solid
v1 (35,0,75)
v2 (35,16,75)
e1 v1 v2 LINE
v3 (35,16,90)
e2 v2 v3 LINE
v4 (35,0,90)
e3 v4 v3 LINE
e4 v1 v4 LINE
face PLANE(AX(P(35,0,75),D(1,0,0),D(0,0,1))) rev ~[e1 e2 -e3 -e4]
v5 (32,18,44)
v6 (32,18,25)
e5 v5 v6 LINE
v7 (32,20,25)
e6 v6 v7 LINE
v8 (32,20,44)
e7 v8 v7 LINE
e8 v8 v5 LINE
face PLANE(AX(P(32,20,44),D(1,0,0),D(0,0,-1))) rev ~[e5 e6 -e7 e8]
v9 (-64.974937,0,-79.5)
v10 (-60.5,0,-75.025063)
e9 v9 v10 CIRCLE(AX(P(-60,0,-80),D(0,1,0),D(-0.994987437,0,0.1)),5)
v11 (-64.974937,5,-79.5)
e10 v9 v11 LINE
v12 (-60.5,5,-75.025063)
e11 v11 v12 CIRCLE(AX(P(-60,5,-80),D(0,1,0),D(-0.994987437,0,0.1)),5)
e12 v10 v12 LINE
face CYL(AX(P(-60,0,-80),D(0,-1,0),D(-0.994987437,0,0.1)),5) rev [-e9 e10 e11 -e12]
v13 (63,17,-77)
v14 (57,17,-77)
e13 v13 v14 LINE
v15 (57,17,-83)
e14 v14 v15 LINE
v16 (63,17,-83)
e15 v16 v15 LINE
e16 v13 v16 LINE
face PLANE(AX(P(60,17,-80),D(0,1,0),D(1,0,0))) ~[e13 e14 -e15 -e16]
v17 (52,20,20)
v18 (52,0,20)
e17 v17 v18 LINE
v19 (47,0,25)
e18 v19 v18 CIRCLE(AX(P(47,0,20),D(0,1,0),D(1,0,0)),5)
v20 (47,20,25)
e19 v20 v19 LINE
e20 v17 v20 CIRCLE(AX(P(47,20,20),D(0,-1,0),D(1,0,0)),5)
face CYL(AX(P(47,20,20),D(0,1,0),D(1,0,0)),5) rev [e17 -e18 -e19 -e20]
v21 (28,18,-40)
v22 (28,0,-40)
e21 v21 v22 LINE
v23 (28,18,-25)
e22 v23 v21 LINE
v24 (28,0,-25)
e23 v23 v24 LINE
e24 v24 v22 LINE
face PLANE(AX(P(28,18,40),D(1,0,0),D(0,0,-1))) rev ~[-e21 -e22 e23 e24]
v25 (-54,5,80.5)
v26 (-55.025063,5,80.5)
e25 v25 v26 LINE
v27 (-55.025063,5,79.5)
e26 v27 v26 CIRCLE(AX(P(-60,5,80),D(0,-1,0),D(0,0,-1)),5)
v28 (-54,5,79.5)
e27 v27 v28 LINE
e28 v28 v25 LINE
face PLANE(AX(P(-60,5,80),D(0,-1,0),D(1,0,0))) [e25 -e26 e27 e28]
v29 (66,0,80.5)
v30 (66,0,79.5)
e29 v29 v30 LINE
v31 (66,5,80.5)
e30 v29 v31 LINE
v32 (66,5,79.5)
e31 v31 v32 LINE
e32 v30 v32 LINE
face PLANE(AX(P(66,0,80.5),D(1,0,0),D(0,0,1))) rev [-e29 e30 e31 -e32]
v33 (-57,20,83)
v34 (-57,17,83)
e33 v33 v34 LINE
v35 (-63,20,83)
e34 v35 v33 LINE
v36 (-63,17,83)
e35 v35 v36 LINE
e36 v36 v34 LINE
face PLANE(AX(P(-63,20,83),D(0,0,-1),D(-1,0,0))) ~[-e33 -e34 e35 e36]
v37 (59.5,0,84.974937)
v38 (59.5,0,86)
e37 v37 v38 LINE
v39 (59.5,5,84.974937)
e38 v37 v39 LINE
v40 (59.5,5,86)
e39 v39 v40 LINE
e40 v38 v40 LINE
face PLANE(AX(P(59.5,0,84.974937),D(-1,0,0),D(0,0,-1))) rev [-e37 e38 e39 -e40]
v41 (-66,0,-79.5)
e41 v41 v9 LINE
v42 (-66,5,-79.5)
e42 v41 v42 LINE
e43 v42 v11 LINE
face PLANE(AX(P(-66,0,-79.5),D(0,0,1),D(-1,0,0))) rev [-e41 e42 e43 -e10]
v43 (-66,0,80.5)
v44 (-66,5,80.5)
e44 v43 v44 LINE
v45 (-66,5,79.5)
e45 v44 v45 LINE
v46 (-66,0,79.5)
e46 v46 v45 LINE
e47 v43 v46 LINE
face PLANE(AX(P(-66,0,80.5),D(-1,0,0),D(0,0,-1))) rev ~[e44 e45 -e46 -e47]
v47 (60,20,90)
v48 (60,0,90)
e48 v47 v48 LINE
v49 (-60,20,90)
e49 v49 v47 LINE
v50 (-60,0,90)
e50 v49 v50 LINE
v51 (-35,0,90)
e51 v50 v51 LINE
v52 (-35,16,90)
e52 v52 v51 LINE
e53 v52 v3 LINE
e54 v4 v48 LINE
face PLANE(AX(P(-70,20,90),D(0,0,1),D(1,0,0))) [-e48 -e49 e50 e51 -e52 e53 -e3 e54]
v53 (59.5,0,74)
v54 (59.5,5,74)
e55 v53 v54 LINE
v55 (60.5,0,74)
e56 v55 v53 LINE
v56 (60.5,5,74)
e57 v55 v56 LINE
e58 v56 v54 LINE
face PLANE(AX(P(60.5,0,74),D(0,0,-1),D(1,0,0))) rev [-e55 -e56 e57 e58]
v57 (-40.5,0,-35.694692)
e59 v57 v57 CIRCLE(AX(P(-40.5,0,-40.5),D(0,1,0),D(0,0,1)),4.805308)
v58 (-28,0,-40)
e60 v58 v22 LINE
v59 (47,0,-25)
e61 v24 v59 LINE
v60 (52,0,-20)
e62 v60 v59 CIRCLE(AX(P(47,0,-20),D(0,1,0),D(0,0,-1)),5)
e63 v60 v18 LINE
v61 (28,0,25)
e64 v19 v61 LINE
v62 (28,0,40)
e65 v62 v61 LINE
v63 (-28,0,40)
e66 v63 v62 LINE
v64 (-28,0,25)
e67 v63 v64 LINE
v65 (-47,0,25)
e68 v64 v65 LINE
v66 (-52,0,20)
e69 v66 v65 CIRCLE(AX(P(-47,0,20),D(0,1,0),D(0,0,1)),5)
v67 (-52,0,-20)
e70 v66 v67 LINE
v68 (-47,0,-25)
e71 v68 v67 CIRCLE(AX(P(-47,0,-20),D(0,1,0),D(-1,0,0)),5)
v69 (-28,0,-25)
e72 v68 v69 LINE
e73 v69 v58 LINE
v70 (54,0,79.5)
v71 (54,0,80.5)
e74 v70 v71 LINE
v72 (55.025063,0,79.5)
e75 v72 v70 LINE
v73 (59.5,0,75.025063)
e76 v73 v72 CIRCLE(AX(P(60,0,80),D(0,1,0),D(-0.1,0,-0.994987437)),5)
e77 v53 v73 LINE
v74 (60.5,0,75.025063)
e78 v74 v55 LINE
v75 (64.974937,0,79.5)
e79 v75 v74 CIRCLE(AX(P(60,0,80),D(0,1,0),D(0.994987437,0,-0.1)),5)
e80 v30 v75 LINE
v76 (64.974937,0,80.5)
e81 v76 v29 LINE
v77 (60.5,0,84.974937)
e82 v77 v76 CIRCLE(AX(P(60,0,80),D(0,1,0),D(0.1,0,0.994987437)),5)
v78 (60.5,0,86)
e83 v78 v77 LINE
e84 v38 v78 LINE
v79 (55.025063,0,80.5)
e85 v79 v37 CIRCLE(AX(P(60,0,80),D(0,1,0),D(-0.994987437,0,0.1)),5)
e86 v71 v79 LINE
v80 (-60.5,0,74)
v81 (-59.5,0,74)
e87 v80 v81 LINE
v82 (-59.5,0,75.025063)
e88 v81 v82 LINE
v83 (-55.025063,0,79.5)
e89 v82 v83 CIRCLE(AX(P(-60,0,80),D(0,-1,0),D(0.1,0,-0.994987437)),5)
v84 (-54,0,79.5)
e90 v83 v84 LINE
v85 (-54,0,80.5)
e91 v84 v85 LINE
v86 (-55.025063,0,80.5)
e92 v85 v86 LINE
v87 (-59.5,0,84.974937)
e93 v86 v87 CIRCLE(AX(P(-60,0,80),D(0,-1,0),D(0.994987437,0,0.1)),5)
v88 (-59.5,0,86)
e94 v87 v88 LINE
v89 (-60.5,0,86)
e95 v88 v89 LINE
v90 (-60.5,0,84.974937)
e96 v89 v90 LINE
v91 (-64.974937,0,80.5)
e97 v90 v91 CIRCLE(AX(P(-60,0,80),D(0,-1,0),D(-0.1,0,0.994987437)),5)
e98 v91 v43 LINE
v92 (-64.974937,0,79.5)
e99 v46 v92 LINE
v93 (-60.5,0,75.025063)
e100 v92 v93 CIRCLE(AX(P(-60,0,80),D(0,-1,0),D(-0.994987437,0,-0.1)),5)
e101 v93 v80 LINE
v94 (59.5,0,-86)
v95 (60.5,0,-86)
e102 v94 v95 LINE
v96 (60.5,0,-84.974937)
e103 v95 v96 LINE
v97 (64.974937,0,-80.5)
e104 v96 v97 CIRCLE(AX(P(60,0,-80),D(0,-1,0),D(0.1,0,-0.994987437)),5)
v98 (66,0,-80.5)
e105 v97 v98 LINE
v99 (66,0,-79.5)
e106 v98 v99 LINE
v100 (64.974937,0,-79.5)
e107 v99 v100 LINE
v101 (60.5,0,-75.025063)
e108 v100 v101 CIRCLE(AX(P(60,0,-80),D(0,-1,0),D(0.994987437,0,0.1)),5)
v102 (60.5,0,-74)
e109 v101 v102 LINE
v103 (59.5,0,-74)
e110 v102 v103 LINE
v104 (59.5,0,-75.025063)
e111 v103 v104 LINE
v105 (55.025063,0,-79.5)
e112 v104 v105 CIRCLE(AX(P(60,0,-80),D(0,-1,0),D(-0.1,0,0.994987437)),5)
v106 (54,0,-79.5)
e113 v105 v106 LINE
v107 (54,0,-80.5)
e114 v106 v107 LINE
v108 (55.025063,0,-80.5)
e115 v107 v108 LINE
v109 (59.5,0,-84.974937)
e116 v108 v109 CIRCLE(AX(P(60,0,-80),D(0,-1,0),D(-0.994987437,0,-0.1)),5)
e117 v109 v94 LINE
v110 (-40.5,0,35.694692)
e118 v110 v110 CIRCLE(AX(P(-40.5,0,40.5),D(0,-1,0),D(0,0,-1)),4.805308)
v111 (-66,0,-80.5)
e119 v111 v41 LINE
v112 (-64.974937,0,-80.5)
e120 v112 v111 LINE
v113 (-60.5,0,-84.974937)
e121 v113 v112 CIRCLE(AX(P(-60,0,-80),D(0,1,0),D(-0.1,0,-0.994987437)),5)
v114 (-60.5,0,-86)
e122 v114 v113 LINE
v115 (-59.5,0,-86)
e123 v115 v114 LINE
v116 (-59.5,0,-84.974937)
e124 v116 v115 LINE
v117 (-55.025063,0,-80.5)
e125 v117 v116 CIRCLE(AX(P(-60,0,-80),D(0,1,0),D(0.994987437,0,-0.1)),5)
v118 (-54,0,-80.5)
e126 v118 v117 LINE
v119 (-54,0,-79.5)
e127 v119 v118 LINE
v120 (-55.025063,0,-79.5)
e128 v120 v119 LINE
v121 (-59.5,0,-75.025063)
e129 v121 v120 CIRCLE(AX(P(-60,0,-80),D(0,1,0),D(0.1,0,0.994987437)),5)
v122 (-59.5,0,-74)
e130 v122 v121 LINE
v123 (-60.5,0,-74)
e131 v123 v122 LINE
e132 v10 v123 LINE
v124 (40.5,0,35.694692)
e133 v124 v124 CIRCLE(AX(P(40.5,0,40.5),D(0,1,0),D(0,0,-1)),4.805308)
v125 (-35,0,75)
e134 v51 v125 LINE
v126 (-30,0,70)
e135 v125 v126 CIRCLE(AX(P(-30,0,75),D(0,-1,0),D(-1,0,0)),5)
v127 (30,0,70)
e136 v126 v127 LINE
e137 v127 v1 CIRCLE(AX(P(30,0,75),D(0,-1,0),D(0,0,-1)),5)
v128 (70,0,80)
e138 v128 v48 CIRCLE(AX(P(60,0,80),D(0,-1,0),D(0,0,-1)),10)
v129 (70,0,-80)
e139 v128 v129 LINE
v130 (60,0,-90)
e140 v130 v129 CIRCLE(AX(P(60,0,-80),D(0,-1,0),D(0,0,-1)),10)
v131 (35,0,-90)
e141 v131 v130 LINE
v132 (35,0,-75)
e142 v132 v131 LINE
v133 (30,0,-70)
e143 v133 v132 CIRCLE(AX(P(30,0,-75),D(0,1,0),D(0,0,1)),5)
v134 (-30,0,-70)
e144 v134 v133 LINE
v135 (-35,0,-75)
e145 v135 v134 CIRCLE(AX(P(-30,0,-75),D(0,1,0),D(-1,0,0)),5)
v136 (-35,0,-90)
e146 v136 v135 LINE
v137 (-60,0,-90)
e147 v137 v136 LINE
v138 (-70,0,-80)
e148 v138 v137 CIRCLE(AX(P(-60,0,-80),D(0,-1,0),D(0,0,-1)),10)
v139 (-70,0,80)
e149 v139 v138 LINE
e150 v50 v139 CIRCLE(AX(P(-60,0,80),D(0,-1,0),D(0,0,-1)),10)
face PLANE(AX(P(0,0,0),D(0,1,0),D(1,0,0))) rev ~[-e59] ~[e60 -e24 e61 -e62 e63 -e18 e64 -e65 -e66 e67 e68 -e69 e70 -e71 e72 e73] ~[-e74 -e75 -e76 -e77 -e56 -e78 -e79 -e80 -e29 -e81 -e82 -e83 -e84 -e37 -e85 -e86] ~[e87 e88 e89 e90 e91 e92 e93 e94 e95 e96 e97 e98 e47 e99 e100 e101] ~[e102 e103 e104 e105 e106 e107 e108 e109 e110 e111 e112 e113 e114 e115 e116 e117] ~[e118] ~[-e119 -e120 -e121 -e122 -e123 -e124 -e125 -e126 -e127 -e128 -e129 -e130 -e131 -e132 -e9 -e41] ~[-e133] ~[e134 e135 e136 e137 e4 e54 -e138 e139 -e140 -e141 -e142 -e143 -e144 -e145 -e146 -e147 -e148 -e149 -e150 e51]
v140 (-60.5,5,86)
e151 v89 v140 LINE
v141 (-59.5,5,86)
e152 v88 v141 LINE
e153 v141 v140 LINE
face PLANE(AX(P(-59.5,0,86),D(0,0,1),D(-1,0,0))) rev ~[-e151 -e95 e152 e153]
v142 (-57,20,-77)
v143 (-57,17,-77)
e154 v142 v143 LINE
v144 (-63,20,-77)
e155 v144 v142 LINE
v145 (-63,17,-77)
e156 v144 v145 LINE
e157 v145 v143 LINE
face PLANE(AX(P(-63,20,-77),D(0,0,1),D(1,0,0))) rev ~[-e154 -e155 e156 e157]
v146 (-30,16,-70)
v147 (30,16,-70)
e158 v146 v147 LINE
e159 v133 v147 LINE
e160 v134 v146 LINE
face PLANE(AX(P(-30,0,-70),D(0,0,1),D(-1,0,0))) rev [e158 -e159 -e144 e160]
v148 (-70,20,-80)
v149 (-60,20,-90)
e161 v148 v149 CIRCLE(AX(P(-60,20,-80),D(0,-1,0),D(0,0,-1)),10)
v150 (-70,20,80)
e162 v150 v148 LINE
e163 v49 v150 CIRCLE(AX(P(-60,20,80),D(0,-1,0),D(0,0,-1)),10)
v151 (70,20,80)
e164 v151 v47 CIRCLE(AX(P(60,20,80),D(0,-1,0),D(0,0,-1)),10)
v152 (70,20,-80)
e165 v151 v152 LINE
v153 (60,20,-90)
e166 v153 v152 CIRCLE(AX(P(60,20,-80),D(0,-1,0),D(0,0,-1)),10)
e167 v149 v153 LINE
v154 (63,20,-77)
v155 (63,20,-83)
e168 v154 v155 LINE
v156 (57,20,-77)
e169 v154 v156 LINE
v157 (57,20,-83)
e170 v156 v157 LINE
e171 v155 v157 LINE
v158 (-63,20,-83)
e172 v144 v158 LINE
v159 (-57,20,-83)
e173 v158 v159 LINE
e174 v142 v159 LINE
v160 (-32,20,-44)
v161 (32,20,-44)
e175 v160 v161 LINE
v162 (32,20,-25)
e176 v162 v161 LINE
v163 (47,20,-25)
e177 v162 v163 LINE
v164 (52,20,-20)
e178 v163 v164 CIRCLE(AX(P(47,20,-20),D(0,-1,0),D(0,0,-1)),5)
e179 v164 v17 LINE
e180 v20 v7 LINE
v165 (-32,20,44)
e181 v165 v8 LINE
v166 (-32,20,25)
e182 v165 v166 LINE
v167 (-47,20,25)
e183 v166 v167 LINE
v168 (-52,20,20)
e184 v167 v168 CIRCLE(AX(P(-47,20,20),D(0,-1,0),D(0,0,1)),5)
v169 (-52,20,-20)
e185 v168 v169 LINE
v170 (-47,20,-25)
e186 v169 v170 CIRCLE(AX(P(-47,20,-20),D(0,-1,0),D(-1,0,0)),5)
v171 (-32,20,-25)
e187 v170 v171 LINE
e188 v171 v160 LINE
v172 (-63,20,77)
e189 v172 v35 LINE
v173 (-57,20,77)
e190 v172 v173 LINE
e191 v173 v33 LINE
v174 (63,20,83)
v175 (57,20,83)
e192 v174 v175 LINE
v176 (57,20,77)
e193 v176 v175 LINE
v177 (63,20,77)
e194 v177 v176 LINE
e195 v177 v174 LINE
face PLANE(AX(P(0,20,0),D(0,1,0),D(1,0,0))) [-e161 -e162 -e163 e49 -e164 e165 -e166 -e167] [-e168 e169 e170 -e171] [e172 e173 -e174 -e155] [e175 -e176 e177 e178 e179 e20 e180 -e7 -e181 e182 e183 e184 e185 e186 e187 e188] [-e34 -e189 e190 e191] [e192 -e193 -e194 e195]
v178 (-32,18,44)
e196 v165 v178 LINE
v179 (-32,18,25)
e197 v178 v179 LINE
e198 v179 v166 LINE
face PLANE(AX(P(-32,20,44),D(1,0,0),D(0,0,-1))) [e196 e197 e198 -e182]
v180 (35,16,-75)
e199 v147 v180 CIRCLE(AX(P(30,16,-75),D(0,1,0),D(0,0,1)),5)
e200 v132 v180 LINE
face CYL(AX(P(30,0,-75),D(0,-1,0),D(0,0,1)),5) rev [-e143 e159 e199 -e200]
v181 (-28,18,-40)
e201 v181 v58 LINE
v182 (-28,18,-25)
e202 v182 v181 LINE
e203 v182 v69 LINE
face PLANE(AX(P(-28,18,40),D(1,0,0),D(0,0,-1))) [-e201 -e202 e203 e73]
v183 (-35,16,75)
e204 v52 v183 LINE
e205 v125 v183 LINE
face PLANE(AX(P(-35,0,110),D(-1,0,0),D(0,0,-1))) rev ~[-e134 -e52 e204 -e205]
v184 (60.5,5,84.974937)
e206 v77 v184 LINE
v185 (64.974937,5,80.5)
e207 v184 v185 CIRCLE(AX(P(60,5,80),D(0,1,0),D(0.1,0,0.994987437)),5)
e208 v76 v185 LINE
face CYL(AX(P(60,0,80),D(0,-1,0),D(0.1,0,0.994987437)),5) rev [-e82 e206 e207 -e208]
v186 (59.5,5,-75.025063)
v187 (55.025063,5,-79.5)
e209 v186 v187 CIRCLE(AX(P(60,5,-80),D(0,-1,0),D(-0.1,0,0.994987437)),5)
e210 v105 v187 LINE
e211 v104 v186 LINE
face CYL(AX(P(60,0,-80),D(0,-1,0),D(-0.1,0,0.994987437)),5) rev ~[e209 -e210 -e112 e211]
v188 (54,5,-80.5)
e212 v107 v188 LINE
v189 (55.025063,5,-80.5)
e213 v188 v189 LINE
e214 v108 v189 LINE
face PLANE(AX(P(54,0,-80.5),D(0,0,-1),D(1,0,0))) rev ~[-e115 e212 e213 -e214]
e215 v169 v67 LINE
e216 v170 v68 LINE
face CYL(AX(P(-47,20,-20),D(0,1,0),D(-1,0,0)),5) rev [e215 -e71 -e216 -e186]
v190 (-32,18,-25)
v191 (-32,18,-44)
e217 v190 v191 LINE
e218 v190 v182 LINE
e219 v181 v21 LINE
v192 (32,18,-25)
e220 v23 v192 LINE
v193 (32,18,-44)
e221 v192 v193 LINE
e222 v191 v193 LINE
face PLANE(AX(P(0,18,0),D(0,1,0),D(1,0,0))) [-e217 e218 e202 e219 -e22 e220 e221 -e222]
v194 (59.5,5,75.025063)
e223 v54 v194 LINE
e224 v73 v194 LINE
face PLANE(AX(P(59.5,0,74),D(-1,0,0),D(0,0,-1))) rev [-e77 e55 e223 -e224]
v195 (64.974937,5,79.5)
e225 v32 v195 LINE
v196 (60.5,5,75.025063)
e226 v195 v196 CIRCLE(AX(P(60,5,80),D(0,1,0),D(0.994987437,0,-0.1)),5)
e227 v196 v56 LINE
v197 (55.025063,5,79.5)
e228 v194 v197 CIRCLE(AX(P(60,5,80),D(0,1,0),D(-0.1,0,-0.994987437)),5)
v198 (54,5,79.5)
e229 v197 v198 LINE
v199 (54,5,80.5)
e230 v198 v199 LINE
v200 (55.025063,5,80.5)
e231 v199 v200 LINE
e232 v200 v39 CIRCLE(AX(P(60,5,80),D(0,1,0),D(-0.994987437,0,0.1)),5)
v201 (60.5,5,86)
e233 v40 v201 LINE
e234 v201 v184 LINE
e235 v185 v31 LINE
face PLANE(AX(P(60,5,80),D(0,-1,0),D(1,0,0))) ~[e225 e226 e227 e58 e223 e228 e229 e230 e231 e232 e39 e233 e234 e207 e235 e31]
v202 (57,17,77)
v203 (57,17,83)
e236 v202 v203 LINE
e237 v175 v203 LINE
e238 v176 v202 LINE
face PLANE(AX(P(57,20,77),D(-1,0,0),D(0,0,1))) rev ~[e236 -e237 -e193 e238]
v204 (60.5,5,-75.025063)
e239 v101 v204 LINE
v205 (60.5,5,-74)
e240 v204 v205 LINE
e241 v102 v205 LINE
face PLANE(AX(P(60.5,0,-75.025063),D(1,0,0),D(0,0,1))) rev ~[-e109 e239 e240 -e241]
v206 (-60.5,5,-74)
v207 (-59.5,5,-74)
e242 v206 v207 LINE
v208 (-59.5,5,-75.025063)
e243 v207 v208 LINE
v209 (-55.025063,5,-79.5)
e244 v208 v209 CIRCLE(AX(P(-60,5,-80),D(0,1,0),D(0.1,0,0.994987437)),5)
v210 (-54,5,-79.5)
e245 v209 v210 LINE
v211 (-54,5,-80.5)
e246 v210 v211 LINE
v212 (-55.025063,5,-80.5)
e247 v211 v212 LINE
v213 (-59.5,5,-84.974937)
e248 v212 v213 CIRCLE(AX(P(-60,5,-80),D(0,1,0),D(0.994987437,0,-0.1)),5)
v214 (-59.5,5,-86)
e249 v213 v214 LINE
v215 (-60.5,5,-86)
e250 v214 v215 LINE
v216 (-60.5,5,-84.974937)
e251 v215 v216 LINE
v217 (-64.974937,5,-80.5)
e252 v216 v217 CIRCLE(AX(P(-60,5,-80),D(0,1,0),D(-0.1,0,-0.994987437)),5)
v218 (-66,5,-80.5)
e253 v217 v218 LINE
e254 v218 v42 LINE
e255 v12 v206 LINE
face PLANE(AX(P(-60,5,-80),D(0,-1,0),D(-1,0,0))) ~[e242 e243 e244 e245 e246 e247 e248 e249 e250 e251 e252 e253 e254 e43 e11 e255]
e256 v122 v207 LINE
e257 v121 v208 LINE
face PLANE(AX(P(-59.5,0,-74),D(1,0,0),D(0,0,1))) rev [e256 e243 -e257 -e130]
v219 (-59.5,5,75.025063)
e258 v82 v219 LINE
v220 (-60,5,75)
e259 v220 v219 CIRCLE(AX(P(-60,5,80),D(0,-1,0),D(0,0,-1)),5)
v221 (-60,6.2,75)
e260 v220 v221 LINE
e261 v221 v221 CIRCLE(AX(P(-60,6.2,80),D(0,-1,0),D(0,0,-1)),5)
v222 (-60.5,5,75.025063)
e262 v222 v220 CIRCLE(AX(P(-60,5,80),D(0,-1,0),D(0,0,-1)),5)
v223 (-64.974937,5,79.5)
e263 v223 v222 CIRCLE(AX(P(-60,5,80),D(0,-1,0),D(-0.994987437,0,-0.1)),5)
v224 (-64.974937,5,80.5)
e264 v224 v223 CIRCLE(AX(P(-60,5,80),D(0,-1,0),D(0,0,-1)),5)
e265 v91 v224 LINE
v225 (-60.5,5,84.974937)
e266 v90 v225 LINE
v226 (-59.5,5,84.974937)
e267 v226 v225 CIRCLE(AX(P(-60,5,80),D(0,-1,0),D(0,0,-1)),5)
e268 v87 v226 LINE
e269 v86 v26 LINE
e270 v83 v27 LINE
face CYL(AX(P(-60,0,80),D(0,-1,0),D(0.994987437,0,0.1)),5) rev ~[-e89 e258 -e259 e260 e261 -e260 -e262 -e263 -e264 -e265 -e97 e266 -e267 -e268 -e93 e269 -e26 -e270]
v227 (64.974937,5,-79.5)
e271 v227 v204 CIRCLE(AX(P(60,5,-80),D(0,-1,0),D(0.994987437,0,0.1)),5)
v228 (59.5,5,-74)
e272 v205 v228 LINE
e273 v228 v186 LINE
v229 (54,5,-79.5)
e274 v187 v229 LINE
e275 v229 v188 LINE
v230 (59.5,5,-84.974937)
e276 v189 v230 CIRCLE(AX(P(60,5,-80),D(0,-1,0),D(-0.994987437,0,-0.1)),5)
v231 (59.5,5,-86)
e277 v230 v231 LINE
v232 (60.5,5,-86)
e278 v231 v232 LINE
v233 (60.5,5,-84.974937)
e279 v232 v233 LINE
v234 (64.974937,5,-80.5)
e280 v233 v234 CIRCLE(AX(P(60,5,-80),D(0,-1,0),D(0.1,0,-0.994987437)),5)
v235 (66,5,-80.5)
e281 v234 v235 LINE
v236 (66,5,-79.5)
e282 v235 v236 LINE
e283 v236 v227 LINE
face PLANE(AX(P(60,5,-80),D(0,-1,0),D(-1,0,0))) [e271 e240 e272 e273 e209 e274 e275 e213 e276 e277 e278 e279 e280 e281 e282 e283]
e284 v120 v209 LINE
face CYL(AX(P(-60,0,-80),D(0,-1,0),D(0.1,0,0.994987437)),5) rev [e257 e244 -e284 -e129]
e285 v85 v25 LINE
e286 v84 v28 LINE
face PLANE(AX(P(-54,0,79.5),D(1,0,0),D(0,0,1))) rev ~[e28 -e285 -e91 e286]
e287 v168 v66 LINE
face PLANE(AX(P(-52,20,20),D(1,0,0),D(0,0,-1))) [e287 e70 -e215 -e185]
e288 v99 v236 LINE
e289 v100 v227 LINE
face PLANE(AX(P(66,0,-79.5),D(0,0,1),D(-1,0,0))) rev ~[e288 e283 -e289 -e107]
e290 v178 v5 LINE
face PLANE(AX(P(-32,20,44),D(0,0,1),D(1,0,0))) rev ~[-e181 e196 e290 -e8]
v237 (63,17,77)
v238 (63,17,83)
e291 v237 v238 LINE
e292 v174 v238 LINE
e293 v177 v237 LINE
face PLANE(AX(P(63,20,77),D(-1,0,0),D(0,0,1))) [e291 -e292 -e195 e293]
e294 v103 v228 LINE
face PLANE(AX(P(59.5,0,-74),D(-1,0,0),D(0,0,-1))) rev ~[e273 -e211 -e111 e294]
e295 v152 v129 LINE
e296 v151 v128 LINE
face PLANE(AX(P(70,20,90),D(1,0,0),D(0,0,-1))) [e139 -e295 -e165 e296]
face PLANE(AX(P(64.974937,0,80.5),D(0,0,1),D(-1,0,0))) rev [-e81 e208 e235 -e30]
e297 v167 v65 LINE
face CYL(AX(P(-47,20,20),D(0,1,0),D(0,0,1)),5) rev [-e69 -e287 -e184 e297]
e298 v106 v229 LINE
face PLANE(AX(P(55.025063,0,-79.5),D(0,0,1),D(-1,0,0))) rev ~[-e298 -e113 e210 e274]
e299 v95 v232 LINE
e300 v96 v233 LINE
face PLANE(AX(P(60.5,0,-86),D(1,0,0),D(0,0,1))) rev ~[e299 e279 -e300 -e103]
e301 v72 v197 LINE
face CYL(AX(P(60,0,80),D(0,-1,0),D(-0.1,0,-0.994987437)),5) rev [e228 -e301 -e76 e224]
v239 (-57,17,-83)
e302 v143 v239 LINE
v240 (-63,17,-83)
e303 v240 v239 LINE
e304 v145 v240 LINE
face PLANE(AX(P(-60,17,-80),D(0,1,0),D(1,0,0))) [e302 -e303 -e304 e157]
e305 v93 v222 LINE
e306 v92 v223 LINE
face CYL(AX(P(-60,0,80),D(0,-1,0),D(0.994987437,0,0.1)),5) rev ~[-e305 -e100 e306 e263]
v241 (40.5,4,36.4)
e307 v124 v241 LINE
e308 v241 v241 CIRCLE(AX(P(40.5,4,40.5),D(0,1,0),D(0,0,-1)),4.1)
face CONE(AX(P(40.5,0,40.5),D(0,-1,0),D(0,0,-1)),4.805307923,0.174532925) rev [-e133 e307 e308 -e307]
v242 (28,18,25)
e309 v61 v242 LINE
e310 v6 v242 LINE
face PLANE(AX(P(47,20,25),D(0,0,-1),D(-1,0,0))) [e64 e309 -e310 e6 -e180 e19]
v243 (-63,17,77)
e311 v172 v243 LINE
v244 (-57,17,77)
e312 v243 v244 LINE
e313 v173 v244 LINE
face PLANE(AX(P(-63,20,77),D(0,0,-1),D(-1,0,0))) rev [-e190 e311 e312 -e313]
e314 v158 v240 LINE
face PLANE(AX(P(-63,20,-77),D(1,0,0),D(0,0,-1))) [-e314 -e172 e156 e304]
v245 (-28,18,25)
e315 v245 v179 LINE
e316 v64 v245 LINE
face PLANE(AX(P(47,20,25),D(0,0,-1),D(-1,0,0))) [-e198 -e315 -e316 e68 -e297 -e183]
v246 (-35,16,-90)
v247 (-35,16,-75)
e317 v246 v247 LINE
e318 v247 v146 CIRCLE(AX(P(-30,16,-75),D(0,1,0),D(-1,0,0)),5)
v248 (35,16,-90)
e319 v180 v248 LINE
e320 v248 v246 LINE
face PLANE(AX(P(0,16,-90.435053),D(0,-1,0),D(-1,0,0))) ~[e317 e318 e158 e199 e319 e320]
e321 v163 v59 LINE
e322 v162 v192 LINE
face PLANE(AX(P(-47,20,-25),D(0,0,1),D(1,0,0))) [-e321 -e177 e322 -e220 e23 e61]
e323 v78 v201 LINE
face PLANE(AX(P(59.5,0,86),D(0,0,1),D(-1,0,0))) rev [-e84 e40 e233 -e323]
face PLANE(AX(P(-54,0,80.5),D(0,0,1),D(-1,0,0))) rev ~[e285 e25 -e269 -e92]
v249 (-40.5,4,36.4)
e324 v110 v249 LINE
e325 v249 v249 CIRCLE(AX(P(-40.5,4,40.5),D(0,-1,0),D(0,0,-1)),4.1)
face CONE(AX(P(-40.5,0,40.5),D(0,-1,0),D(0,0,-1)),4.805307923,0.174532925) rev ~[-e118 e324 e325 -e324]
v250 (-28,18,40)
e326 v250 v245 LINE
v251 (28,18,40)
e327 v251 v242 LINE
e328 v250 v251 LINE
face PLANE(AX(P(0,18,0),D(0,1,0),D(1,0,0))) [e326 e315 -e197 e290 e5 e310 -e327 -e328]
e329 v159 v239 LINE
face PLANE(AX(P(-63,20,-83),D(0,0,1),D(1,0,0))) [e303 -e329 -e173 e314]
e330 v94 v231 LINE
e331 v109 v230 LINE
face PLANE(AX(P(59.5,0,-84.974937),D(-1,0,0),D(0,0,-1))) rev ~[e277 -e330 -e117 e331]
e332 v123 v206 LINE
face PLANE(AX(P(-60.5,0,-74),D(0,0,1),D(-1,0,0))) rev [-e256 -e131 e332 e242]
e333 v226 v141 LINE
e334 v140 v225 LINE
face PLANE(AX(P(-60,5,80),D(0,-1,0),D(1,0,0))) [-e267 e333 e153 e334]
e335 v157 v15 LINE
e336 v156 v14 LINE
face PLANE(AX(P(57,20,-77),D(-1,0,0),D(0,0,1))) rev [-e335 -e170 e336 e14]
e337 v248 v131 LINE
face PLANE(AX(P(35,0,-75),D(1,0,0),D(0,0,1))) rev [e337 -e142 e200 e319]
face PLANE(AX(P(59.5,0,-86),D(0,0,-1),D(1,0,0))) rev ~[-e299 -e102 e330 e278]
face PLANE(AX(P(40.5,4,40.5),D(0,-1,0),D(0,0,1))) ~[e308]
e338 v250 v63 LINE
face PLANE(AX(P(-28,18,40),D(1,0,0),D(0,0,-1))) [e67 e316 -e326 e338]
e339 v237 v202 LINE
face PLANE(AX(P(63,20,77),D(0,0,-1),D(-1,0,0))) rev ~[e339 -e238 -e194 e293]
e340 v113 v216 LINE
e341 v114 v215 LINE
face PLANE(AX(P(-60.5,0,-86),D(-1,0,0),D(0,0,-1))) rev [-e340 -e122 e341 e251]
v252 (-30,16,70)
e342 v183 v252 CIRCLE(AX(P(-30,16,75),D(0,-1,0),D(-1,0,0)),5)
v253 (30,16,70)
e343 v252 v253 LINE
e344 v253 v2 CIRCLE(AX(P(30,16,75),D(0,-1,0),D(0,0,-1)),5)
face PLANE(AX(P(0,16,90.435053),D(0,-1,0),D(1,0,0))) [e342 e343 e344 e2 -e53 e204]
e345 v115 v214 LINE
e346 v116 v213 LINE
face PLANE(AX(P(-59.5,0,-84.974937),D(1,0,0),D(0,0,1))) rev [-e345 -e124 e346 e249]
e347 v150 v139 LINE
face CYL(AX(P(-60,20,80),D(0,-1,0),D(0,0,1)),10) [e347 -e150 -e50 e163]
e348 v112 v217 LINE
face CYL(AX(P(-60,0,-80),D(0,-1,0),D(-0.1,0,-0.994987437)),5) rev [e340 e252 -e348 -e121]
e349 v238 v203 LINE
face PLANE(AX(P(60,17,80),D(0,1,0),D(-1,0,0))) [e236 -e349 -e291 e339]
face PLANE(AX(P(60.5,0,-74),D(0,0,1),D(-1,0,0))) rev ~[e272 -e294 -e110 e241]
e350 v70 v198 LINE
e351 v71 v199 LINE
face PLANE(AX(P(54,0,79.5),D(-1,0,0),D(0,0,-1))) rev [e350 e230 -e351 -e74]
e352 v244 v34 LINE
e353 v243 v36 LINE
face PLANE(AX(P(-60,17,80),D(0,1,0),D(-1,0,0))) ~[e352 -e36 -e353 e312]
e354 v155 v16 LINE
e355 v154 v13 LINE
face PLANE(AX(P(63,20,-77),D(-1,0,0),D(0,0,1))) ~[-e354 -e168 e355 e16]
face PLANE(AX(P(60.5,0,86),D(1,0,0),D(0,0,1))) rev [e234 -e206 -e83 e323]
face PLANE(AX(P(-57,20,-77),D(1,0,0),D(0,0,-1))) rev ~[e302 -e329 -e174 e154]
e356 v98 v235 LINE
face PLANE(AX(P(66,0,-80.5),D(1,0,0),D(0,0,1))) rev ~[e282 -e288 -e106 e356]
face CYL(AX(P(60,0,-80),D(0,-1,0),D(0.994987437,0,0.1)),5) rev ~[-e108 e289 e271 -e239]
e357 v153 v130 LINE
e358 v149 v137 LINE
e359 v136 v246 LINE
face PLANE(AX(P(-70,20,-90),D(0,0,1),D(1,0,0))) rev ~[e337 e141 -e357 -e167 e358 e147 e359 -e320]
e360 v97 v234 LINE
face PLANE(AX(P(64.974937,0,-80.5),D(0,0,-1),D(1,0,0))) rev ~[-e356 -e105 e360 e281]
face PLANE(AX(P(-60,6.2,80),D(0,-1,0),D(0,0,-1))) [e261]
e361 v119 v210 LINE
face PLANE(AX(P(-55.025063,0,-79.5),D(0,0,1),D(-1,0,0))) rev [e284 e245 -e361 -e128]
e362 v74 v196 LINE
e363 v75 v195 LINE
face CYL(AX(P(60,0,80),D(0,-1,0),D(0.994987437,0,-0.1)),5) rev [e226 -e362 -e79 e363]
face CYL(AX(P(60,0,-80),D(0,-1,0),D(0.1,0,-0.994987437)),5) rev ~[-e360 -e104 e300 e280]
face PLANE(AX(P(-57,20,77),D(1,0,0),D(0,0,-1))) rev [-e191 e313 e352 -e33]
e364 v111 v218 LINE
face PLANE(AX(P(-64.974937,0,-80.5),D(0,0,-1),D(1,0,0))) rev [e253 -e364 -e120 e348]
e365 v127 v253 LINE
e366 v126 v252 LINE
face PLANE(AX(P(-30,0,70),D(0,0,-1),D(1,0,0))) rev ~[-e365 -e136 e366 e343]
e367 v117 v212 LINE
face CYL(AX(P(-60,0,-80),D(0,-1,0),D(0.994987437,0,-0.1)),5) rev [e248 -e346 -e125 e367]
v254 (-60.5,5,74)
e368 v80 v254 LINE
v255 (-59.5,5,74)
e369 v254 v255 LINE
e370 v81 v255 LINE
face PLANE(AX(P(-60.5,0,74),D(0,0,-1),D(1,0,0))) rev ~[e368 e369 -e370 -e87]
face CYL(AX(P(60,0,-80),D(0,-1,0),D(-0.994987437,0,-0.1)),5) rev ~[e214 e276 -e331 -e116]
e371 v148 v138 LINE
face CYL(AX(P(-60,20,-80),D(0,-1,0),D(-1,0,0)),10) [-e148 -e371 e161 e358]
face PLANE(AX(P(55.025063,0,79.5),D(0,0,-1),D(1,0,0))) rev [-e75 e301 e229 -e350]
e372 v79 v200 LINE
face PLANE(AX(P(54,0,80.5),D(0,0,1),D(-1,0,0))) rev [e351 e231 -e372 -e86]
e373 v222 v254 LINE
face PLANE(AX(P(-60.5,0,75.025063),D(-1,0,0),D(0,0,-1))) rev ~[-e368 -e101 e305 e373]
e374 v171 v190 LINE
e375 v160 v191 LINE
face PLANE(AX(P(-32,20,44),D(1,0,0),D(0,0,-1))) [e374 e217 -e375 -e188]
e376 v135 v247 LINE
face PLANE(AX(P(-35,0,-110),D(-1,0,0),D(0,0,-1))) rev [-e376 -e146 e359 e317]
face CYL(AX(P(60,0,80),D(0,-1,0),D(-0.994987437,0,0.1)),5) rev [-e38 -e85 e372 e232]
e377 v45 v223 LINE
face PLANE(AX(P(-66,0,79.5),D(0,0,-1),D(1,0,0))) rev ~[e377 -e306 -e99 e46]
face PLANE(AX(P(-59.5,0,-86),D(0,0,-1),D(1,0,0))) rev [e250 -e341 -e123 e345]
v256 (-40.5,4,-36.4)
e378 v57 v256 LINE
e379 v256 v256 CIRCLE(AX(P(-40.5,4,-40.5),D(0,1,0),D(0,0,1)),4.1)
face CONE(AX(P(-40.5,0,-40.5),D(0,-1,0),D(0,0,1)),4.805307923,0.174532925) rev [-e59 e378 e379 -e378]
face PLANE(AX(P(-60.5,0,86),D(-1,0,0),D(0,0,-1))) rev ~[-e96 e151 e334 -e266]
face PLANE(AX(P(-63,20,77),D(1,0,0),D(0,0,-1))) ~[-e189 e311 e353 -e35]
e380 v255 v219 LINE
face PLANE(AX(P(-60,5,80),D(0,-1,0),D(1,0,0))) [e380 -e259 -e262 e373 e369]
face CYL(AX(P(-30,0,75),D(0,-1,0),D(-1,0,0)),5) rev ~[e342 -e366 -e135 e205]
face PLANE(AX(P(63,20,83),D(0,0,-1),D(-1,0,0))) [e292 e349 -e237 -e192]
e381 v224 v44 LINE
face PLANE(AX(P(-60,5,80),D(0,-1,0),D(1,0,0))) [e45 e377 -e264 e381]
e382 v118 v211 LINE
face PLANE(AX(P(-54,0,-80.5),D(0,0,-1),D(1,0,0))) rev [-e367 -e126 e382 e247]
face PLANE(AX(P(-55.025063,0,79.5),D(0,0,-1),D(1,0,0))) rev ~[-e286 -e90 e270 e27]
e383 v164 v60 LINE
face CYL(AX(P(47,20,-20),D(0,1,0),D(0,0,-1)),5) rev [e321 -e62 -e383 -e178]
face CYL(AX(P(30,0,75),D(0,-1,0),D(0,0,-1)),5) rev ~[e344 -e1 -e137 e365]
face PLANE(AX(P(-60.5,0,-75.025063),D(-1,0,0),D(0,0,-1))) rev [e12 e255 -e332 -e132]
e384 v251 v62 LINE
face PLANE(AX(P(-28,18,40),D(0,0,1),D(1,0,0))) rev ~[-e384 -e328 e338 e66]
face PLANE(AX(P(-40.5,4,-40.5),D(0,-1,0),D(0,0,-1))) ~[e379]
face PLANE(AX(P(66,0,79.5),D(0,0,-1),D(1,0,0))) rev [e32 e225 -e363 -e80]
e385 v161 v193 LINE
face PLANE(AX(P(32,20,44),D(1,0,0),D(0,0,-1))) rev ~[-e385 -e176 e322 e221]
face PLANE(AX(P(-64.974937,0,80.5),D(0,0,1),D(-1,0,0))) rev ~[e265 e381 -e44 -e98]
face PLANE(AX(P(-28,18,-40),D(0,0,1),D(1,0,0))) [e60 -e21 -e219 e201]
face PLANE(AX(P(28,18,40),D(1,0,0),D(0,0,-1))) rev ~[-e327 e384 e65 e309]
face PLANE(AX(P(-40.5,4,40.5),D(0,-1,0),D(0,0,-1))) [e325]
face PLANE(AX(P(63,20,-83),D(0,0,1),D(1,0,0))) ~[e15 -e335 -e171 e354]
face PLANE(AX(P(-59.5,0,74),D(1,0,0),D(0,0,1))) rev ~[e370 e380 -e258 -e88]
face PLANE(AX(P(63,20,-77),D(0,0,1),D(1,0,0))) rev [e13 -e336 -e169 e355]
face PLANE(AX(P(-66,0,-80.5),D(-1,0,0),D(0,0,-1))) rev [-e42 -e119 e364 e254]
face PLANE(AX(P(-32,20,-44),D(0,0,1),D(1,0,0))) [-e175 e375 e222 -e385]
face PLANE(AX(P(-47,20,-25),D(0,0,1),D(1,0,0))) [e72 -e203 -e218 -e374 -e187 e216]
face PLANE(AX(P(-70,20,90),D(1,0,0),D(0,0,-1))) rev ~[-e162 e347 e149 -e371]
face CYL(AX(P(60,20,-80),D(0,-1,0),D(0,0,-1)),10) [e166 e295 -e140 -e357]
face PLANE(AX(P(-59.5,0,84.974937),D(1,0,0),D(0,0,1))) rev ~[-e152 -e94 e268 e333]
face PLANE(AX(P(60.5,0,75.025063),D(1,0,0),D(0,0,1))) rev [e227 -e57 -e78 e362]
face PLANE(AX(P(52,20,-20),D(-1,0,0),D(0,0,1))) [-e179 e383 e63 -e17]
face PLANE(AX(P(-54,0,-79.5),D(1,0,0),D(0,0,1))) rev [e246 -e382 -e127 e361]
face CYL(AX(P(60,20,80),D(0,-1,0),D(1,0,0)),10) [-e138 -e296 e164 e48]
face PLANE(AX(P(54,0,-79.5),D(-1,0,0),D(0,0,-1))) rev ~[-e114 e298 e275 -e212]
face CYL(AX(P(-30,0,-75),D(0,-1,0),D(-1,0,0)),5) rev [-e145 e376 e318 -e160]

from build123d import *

# Parameters (mm, degrees)
SKETCH_1_W                                 = 200
SKETCH_1_H                                 = 200
EXTRUDE_1_DEPTH                            = 20
SKETCH_2_W                                 = 200
SKETCH_2_H                                 = 200
SKETCH_2_W_2                               = 140
SKETCH_2_H_2                               = 180
CUT_EXTRUDE_2_DEPTH                        = 143.828568571
FILLET_1_R                                 = 10
FILLET_2_R                                 = 10
FILLET_3_R                                 = 10
FILLET_4_R                                 = 10
CUT_EXTRUDE_4_DEPTH                        = 5
MIRROR_3_AT_THE_SECOND_PLANE_COPY_1_DEPTH  = 5
SKETCH_5_R                                 = 5
CUT_EXTRUDE_5_DEPTH                        = 6.2
CUT_EXTRUDE_7_DEPTH                        = 16
SKETCH_8_R                                 = 4.1
CUT_EXTRUDE_8_DEPTH                        = 4
DRAFT_2_ANGLE                              = 10
DRAFT_2_OF_MIRROR_10_2_ANGLE               = 10
DRAFT_2_OF_MIRROR_11_2_ANGLE               = 10
SKETCH_14_W                                = 6
SKETCH_14_H                                = 6
CUT_EXTRUDE_9_DEPTH                        = 3
MIRROR_12_AT_THE_SECOND_PLANE_COPY_1_SKE_W = 6
MIRROR_12_AT_THE_SECOND_PLANE_COPY_1_SKE_H = 6
MIRROR_12_AT_THE_SECOND_PLANE_COPY_1_DEPTH = 3
SKETCH_15_W                                = 64
SKETCH_15_H                                = 88
CUT_EXTRUDE_10_DEPTH                       = 2
SKETCH_16_W                                = 56
SKETCH_16_H                                = 80
CUT_EXTRUDE_11_DEPTH                       = 116.429632244
CUT_EXTRUDE_12_DEPTH                       = 116.758369028


with BuildPart() as part:
    # 草图1 → 凸台-拉伸1 (new body)
    with BuildSketch(Plane(origin=(0, 0, 0), x_dir=(1, 0, 0), z_dir=(0, 1, 0))):
        Rectangle(SKETCH_1_W, SKETCH_1_H)
    extrude(amount=EXTRUDE_1_DEPTH)

    # 草图2 → 切除-拉伸2 (cut, through all)
    with BuildSketch(Plane(origin=(0, 20, 0), x_dir=(1, 0, 0), z_dir=(0, 1, 0))):
        Rectangle(SKETCH_2_W, SKETCH_2_H)
        Rectangle(SKETCH_2_W_2, SKETCH_2_H_2, mode=Mode.SUBTRACT)
    extrude(amount=-CUT_EXTRUDE_2_DEPTH, mode=Mode.SUBTRACT)

    # 圆角1
    fillet_1_edges = [part.edges().sort_by_distance(p)[0] for p in [
        (-70, 10, -90),
    ]]
    fillet(fillet_1_edges, radius=FILLET_1_R)

    # 圆角2
    fillet_2_edges = [part.edges().sort_by_distance(p)[0] for p in [
        (70, 10, -90),
    ]]
    fillet(fillet_2_edges, radius=FILLET_2_R)

    # 圆角3
    fillet_3_edges = [part.edges().sort_by_distance(p)[0] for p in [
        (70, 10, 90),
    ]]
    fillet(fillet_3_edges, radius=FILLET_3_R)

    # 圆角4
    fillet_4_edges = [part.edges().sort_by_distance(p)[0] for p in [
        (-70, 10, 90),
    ]]
    fillet(fillet_4_edges, radius=FILLET_4_R)

    # 草图4 → 切除-拉伸4 (cut)
    with BuildSketch(Plane.XZ):
        with BuildLine():
            Line((-59.5, 84.974937186), (-59.5, 86))
            Line((-59.5, 86), (-60.5, 86))
            Line((-60.5, 86), (-60.5, 84.974937186))
            ThreePointArc((-60.5, 84.974937186), (-63.535533906, 83.535533906), (-64.974937186, 80.5))
            Line((-64.974937186, 80.5), (-66, 80.5))
            Line((-66, 80.5), (-66, 79.5))
            Line((-66, 79.5), (-64.974937186, 79.5))
            ThreePointArc((-64.974937186, 79.5), (-63.535533906, 76.464466094), (-60.5, 75.025062814))
            Line((-60.5, 75.025062814), (-60.5, 74))
            Line((-60.5, 74), (-59.5, 74))
            Line((-59.5, 74), (-59.5, 75.025062814))
            ThreePointArc((-59.5, 75.025062814), (-56.464466094, 76.464466094), (-55.025062814, 79.5))
            Line((-55.025062814, 79.5), (-54, 79.5))
            Line((-54, 79.5), (-54, 80.5))
            Line((-54, 80.5), (-55.025062814, 80.5))
            ThreePointArc((-55.025062814, 80.5), (-56.464466094, 83.535533906), (-59.5, 84.974937186))
        make_face()
    cut_extrude_4 = extrude(amount=-CUT_EXTRUDE_4_DEPTH, mode=Mode.SUBTRACT)

    # 镜向3: 切除-拉伸4 across plane
    add(cut_extrude_4.mirror(Plane(origin=(0, 0, 0), x_dir=(0, 0, 1), z_dir=(1, 0, 0))), mode=Mode.SUBTRACT)

    # 镜向3 at the second plane: 切除-拉伸4 across plane
    add(cut_extrude_4.mirror(Plane.XY), mode=Mode.SUBTRACT)

    # 镜向3 at the second plane copy 1 sket → 镜向3 at the second plane copy 1 (cut)
    with BuildSketch(Plane(origin=(0, 0, 0), x_dir=(-1, 0, 0), z_dir=(0, -1, 0))):
        with BuildLine():
            Line((-59.5, 84.974937186), (-59.5, 86))
            Line((-59.5, 86), (-60.5, 86))
            Line((-60.5, 86), (-60.5, 84.974937186))
            ThreePointArc((-60.5, 84.974937186), (-63.535533906, 83.535533906), (-64.974937186, 80.5))
            Line((-64.974937186, 80.5), (-66, 80.5))
            Line((-66, 80.5), (-66, 79.5))
            Line((-66, 79.5), (-64.974937186, 79.5))
            ThreePointArc((-64.974937186, 79.5), (-63.535533906, 76.464466094), (-60.5, 75.025062814))
            Line((-60.5, 75.025062814), (-60.5, 74))
            Line((-60.5, 74), (-59.5, 74))
            Line((-59.5, 74), (-59.5, 75.025062814))
            ThreePointArc((-59.5, 75.025062814), (-56.464466094, 76.464466094), (-55.025062814, 79.5))
            Line((-55.025062814, 79.5), (-54, 79.5))
            Line((-54, 79.5), (-54, 80.5))
            Line((-54, 80.5), (-55.025062814, 80.5))
            ThreePointArc((-55.025062814, 80.5), (-56.464466094, 83.535533906), (-59.5, 84.974937186))
        make_face()
    extrude(amount=-MIRROR_3_AT_THE_SECOND_PLANE_COPY_1_DEPTH, mode=Mode.SUBTRACT)

    # 草图5 → 切除-拉伸5 (cut)
    with BuildSketch(Plane.XZ):
        with Locations(Location((-60, 80, 0), (0, 0, 270))):
            Circle(SKETCH_5_R)
    extrude(amount=-CUT_EXTRUDE_5_DEPTH, mode=Mode.SUBTRACT)

    # 草图7 → 切除-拉伸7 (cut)
    with BuildSketch(Plane.XZ):
        with BuildLine():
            Line((35, 110), (-35, 110))
            Line((-35, 110), (-35, 75))
            ThreePointArc((-35, 75), (-33.535533906, 71.464466094), (-30, 70))
            Line((-30, 70), (30, 70))
            ThreePointArc((30, 70), (33.535533906, 71.464466094), (35, 75))
            Line((35, 75), (35, 110))
        make_face()
    cut_extrude_7 = extrude(amount=-CUT_EXTRUDE_7_DEPTH, mode=Mode.SUBTRACT)

    # 镜向6: 切除-拉伸7 across plane
    add(cut_extrude_7.mirror(Plane.XY), mode=Mode.SUBTRACT)

    # 草图8 → 切除-拉伸8 (cut)
    with BuildSketch(Plane.XZ):
        with Locations(Location((-40.5, 40.5, 0), (0, 0, 270))):
            Circle(SKETCH_8_R)
    cut_extrude_8 = extrude(amount=-CUT_EXTRUDE_8_DEPTH, mode=Mode.SUBTRACT)

    # 拔模2
    draft_2_faces = [part.faces().sort_by_distance(p)[0] for p in [
        (-40.5, 2, 44.6),
    ]]
    draft(draft_2_faces, Plane(origin=(-40.5, 4, 40.5), x_dir=(0, 0, -1), z_dir=(0, -1, 0)), DRAFT_2_ANGLE)

    # 镜向10: 切除-拉伸8 across plane
    add(cut_extrude_8.mirror(Plane(origin=(0, 0, 0), x_dir=(0, 0, 1), z_dir=(1, 0, 0))), mode=Mode.SUBTRACT)

    # 拔模2 of Mirror 10 2
    draft_2_of_mirror_10_2_faces = [part.faces().sort_by_distance(p)[0] for p in [
        (40.5, 2, 44.6),
    ]]
    draft(draft_2_of_mirror_10_2_faces, Plane(origin=(40.5, 4, 40.5), x_dir=(0, 0, -1), z_dir=(0, -1, 0)), DRAFT_2_OF_MIRROR_10_2_ANGLE)

    # 镜向11: 切除-拉伸8 across plane
    add(cut_extrude_8.mirror(Plane.XY), mode=Mode.SUBTRACT)

    # 拔模2 of Mirror 11 2
    draft_2_of_mirror_11_2_faces = [part.faces().sort_by_distance(p)[0] for p in [
        (-40.5, 2, -44.6),
    ]]
    draft(draft_2_of_mirror_11_2_faces, Plane(origin=(-40.5, 4, -40.5), x_dir=(0, 0, 1), z_dir=(0, -1, 0)), DRAFT_2_OF_MIRROR_11_2_ANGLE)

    # 草图14 → 切除-拉伸9 (cut)
    with BuildSketch(Plane(origin=(0, 20, 0), x_dir=(1, 0, 0), z_dir=(0, 1, 0))):
        with Locations((-60, 80)):
            Rectangle(SKETCH_14_W, SKETCH_14_H)
    cut_extrude_9 = extrude(amount=-CUT_EXTRUDE_9_DEPTH, mode=Mode.SUBTRACT)

    # 镜向12: 切除-拉伸9 across plane
    add(cut_extrude_9.mirror(Plane(origin=(0, 0, 0), x_dir=(0, 0, 1), z_dir=(1, 0, 0))), mode=Mode.SUBTRACT)

    # 镜向12 at the second plane: 切除-拉伸9 across plane
    add(cut_extrude_9.mirror(Plane.XY), mode=Mode.SUBTRACT)

    # 镜向12 at the second plane copy 1 ske → 镜向12 at the second plane copy 1 (cut)
    with BuildSketch(Plane(origin=(0, 20, 0), x_dir=(-1, 0, 0), z_dir=(0, 1, 0))):
        with Locations((-60, 80)):
            Rectangle(MIRROR_12_AT_THE_SECOND_PLANE_COPY_1_SKE_W, MIRROR_12_AT_THE_SECOND_PLANE_COPY_1_SKE_H)
    extrude(amount=-MIRROR_12_AT_THE_SECOND_PLANE_COPY_1_DEPTH, mode=Mode.SUBTRACT)

    # 草图15 → 切除-拉伸10 (cut)
    with BuildSketch(Plane(origin=(0, 20, 0), x_dir=(1, 0, 0), z_dir=(0, 1, 0))):
        Rectangle(SKETCH_15_W, SKETCH_15_H)
    extrude(amount=-CUT_EXTRUDE_10_DEPTH, mode=Mode.SUBTRACT)

    # 草图16 → 切除-拉伸11 (cut, through all)
    with BuildSketch(Plane(origin=(0, 18, 0), x_dir=(1, 0, 0), z_dir=(0, 1, 0))):
        Rectangle(SKETCH_16_W, SKETCH_16_H)
    extrude(amount=-CUT_EXTRUDE_11_DEPTH, mode=Mode.SUBTRACT)

    # 草图17 → 切除-拉伸12 (cut, through all)
    with BuildSketch(Plane(origin=(0, 20, 0), x_dir=(1, 0, 0), z_dir=(0, 1, 0))):
        with BuildLine():
            Line((47, -25), (-47, -25))
            ThreePointArc((-47, -25), (-50.535533906, -23.535533906), (-52, -20))
            Line((-52, -20), (-52, 20))
            ThreePointArc((-52, 20), (-50.535533906, 23.535533906), (-47, 25))
            Line((-47, 25), (47, 25))
            ThreePointArc((47, 25), (50.535533906, 23.535533906), (52, 20))
            Line((52, 20), (52, -20))
            ThreePointArc((52, -20), (50.535533906, -23.535533906), (47, -25))
        make_face()
    extrude(amount=-CUT_EXTRUDE_12_DEPTH, mode=Mode.SUBTRACT)


solid = part.part
